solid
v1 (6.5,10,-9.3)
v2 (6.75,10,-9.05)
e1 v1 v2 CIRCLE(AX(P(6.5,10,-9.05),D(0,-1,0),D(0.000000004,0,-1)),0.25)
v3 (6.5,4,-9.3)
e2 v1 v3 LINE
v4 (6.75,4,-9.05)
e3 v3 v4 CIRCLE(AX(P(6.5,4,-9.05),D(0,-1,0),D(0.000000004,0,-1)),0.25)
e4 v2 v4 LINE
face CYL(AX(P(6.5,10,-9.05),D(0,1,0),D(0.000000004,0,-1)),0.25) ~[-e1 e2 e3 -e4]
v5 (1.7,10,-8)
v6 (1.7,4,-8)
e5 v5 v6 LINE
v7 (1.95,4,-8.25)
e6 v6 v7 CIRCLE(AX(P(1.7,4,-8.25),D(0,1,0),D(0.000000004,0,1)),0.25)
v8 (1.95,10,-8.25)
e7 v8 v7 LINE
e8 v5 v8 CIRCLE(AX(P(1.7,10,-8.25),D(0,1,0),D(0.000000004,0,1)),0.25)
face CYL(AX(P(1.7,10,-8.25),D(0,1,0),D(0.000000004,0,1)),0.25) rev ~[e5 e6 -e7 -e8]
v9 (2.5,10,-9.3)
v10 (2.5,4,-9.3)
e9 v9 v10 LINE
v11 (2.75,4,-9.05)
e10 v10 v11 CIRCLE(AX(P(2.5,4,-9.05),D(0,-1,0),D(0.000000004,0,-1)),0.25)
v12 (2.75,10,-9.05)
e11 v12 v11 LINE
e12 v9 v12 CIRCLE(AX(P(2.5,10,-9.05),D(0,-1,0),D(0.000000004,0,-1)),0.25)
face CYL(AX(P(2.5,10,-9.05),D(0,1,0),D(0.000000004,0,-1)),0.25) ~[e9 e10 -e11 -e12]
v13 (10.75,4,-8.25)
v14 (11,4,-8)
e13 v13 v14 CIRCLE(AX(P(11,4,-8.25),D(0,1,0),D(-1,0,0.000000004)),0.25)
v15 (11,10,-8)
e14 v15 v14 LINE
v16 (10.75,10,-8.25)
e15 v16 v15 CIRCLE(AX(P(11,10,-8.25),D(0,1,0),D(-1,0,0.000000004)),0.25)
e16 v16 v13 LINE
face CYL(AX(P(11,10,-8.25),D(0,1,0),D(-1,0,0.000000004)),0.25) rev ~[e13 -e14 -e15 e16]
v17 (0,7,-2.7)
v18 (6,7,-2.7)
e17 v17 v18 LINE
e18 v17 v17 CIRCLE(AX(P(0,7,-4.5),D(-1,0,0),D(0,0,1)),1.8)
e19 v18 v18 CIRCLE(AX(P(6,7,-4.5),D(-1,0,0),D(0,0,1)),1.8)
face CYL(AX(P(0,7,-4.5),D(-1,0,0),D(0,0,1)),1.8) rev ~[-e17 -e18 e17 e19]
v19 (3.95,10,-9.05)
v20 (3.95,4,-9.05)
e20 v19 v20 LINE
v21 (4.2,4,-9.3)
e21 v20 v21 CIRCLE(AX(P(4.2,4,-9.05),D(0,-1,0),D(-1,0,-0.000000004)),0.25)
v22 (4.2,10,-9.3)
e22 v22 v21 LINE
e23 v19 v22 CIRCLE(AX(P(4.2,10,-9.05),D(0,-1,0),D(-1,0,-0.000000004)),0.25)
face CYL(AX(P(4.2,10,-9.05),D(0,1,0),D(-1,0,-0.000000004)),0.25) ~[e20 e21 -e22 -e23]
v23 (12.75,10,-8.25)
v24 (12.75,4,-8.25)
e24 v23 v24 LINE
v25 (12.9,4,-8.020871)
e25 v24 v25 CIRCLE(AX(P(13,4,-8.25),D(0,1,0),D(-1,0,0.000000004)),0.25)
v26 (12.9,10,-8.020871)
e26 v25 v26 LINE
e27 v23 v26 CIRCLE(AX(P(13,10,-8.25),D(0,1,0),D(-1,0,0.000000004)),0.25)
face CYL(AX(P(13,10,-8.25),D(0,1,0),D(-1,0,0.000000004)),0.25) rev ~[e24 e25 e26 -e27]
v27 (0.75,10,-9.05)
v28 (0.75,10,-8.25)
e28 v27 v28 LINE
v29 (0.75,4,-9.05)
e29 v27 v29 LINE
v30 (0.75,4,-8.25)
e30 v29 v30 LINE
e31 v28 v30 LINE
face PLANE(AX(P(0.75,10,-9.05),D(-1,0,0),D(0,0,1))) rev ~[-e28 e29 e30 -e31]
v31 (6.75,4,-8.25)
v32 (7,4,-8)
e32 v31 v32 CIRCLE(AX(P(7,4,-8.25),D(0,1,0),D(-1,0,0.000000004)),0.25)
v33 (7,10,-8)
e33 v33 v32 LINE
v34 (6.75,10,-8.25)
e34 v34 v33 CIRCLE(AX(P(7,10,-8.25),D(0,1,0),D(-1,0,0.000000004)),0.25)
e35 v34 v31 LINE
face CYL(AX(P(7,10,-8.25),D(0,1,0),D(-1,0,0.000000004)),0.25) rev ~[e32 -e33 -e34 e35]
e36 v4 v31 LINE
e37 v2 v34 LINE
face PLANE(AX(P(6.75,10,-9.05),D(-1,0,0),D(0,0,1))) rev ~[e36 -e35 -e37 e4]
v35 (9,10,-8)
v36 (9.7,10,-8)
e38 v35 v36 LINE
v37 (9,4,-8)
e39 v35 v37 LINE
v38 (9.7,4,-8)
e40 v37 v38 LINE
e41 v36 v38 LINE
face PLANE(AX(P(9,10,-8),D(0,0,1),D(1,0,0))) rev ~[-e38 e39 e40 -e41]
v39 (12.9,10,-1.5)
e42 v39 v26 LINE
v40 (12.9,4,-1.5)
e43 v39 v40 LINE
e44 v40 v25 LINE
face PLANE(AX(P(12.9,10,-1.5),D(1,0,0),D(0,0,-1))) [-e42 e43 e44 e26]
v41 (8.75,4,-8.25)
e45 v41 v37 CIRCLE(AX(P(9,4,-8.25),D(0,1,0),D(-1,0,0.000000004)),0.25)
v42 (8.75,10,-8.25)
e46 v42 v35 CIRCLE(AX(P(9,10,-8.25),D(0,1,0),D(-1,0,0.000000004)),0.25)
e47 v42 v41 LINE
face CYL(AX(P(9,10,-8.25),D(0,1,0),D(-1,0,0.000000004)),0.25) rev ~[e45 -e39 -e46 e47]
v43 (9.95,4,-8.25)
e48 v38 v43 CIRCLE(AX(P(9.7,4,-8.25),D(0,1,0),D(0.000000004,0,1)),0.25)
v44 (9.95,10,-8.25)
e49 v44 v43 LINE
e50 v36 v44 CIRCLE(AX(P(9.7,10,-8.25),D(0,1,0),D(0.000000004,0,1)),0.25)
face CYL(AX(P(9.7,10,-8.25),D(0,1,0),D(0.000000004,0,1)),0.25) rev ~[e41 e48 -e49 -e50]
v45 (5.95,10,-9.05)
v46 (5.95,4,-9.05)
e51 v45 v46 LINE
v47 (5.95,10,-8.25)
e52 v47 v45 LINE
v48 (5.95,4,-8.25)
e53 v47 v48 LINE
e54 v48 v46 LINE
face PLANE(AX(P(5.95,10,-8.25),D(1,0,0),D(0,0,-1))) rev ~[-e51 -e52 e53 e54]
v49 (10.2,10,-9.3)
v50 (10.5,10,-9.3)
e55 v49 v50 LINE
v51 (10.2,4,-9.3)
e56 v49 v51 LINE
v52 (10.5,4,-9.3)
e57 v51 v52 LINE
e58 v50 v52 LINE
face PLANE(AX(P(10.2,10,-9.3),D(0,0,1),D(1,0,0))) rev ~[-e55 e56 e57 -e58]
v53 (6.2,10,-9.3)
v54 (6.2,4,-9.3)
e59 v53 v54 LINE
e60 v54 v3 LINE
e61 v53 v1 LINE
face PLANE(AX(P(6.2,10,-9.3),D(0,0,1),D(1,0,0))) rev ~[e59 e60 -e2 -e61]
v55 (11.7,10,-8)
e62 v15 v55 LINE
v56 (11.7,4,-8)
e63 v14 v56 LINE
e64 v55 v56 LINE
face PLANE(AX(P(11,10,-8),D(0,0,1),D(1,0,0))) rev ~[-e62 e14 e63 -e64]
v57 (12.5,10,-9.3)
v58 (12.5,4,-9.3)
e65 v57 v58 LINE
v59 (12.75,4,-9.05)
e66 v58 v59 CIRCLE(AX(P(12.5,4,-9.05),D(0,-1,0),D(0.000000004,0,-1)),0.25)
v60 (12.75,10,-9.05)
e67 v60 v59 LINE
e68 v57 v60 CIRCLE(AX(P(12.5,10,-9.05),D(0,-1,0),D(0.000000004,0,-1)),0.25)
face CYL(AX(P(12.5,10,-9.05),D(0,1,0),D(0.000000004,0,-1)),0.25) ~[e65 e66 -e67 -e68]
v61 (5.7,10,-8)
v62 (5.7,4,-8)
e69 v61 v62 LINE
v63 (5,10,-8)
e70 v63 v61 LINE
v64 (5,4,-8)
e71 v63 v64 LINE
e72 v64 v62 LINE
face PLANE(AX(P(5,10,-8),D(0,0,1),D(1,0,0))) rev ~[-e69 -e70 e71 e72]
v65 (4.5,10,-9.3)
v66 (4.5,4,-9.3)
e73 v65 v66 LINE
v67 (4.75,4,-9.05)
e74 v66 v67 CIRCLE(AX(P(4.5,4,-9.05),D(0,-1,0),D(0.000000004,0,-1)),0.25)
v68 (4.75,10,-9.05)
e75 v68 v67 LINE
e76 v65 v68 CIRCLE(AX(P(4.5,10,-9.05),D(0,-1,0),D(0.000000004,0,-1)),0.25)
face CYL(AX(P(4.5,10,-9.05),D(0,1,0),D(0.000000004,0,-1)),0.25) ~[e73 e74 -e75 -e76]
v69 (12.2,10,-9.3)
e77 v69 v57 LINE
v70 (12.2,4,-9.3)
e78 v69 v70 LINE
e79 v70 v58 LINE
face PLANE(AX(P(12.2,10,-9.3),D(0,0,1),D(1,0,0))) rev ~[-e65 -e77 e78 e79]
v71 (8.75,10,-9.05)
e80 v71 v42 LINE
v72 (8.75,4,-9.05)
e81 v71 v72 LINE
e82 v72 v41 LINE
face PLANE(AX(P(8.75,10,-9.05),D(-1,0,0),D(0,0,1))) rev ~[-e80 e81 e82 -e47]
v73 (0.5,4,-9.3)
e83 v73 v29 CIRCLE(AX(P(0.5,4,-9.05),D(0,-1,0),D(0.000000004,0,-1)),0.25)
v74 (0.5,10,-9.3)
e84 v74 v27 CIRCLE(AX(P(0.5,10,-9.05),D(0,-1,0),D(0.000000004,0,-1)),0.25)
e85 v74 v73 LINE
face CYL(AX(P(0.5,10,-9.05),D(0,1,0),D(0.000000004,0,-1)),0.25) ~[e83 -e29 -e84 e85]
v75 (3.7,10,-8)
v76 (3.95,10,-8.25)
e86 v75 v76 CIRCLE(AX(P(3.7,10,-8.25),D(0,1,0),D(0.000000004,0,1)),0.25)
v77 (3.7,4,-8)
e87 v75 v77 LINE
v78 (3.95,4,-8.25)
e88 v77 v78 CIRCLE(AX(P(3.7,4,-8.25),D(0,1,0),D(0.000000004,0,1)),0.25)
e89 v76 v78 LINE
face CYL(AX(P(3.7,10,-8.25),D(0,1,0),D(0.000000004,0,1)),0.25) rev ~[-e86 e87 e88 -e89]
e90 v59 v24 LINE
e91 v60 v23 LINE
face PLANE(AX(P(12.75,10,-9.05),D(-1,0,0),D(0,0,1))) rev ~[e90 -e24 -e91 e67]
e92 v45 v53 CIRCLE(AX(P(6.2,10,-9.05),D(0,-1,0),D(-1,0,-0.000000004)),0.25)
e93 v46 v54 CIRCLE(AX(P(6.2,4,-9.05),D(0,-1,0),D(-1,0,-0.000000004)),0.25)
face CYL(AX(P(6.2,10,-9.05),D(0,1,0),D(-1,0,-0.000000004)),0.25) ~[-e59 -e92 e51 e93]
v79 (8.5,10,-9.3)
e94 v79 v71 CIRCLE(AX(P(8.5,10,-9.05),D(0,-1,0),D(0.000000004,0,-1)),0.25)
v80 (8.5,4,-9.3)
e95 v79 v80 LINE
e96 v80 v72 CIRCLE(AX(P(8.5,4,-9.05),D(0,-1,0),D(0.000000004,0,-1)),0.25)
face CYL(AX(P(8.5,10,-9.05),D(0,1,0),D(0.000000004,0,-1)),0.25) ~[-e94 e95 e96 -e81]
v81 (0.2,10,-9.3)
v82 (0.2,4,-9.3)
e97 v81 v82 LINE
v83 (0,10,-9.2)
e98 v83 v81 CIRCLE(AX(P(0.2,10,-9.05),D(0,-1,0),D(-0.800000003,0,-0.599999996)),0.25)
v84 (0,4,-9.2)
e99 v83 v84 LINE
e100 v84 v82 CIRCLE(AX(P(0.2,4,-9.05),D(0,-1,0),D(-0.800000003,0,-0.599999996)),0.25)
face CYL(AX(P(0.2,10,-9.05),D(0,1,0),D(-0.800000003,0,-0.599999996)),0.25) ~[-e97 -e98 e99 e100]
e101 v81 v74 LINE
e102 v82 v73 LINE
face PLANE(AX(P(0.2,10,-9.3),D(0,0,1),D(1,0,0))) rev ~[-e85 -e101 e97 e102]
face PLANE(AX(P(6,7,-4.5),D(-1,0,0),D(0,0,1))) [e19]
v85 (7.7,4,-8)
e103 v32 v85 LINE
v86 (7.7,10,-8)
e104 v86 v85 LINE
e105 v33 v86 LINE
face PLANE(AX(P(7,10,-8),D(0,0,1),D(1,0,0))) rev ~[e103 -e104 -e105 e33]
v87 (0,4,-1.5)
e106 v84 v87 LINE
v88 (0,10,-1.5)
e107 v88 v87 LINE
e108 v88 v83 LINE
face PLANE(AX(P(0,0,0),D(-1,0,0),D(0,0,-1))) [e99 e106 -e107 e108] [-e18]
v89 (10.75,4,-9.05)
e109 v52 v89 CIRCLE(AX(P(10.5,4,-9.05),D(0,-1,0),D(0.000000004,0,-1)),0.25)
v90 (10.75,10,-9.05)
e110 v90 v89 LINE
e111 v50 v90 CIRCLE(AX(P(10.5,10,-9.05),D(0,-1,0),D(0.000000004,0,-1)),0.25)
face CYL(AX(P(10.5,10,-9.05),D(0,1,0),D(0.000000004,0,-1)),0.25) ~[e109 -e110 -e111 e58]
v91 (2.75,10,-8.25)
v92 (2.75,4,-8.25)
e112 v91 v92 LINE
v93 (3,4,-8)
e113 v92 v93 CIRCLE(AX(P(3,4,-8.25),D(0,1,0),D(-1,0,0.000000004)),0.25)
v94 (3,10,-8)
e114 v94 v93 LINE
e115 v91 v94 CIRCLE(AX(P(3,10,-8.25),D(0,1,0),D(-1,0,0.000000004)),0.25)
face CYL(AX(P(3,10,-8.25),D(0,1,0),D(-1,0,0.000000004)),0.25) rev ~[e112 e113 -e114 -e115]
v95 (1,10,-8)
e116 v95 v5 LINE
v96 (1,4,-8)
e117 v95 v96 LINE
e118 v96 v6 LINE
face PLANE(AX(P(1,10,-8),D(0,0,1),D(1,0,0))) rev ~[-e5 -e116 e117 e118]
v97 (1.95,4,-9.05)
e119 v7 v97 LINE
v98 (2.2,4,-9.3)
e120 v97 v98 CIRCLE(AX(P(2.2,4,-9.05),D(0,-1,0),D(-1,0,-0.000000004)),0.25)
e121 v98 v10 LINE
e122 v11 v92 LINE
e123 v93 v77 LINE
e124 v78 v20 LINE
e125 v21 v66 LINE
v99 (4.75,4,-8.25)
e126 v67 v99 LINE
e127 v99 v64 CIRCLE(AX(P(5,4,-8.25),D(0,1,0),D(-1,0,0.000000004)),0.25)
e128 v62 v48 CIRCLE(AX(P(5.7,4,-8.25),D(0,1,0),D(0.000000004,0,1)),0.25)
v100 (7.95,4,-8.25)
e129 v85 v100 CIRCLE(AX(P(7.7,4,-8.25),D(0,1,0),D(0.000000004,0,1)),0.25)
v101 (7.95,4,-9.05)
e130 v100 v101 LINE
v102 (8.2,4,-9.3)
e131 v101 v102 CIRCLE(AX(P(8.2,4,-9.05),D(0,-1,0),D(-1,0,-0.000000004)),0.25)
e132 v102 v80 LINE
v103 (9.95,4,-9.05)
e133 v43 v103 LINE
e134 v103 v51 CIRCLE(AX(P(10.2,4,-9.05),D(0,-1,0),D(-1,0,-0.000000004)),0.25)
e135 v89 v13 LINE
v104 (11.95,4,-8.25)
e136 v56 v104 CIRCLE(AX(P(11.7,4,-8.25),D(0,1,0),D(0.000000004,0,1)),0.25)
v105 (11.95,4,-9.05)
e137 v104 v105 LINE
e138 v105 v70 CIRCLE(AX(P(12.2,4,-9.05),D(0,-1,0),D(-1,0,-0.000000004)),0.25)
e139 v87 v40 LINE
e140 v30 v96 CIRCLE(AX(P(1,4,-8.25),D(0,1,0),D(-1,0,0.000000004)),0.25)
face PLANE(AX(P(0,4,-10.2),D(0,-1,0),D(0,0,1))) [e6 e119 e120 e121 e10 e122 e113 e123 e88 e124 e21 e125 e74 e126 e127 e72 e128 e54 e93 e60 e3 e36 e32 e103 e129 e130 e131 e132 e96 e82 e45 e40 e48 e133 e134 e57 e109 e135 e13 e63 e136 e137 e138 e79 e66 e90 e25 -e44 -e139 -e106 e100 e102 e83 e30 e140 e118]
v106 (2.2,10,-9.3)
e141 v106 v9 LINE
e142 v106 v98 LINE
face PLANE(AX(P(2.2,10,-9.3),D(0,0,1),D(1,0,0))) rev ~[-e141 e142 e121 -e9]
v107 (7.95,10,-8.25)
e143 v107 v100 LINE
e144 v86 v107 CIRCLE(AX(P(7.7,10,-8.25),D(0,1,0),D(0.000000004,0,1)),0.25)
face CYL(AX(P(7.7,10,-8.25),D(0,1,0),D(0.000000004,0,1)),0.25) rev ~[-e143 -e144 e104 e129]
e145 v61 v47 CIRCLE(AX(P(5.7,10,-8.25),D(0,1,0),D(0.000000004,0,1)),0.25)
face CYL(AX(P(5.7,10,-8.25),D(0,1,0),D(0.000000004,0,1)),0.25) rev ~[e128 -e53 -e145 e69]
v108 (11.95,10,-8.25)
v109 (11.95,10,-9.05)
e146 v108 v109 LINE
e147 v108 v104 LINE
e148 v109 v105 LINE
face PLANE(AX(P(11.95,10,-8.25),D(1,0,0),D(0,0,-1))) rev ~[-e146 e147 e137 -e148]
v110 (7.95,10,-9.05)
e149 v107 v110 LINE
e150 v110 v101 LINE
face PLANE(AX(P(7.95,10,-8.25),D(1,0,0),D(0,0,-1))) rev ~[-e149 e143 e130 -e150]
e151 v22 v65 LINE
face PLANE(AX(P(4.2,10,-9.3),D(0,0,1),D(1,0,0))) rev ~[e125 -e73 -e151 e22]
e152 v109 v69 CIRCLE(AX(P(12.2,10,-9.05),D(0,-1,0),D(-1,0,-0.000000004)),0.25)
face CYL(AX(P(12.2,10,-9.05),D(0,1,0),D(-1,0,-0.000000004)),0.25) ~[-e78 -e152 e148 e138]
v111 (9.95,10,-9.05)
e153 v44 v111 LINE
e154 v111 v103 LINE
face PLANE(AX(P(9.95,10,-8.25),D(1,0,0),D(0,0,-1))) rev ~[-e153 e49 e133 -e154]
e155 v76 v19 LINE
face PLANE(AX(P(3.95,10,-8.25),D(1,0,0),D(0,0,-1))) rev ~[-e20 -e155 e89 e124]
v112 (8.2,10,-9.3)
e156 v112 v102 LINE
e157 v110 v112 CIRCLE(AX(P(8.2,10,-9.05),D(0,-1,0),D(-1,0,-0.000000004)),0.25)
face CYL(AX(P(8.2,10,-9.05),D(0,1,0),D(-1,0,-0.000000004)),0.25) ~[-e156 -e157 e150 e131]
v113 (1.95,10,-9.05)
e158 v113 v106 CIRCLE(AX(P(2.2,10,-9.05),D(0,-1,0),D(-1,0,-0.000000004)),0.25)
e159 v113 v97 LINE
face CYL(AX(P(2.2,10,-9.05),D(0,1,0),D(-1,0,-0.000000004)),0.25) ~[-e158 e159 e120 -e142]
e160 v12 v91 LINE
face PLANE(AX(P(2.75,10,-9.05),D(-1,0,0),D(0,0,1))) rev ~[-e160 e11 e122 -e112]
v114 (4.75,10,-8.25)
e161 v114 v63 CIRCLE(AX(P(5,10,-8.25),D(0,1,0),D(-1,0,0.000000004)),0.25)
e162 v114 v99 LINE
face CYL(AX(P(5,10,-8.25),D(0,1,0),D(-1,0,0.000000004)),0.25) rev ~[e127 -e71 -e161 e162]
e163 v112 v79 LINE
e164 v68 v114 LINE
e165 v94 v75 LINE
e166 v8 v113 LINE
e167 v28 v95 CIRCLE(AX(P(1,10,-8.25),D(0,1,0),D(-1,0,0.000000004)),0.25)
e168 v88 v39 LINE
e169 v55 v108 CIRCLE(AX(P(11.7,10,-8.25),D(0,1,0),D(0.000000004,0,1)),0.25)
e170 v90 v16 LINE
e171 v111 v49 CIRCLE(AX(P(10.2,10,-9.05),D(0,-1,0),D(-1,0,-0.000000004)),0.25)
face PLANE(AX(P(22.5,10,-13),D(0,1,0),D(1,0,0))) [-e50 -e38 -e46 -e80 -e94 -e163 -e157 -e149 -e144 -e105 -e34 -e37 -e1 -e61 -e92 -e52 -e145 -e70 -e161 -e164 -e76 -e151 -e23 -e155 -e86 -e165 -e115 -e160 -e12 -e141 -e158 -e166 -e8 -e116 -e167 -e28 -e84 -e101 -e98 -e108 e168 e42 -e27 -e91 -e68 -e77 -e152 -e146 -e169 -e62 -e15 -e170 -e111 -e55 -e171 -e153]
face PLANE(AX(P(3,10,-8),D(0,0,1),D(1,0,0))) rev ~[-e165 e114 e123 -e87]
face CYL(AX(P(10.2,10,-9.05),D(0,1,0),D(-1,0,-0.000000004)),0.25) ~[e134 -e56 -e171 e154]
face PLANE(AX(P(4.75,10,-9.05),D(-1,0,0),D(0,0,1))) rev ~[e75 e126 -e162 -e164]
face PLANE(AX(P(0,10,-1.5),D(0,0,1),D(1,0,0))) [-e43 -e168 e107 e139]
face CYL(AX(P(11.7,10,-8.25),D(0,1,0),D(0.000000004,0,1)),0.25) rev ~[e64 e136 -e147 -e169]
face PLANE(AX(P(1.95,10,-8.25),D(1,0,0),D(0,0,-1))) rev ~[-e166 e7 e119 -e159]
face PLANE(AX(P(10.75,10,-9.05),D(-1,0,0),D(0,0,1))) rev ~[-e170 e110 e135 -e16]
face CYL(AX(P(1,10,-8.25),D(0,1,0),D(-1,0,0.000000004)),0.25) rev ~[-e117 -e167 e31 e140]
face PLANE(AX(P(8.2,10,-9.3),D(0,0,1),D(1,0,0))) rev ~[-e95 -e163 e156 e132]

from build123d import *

# Parameters (mm, degrees)
SKETCH_1_W           = 45
SKETCH_1_H           = 26
EXTRUDE_1_DEPTH      = 10
CUT_EXTRUDE_1_DEPTH  = 6
SKETCH_4_W           = 30
SKETCH_4_H           = 1.4
CUT_EXTRUDE_3_DEPTH  = 6
SKETCH_5_R           = 1.8
CUT_EXTRUDE_4_DEPTH  = 30
SKETCH_6_W           = 2.8
SKETCH_6_H           = 6
CUT_EXTRUDE_5_DEPTH  = 6.5
SKETCH_7_W           = 22.3
SKETCH_7_H           = 8.113029467
CUT_EXTRUDE_7_DEPTH  = 6
SKETCH_8_R           = 1.9
CUT_EXTRUDE_8_DEPTH  = 15.9
SKETCH_10_W          = 6
SKETCH_10_H          = 3
CUT_EXTRUDE_9_DEPTH  = 8.5
SKETCH_12_W          = 10.2
SKETCH_12_H          = 4
CUT_EXTRUDE_11_DEPTH = 45
SKETCH_13_W          = 12.9
SKETCH_13_H          = 1.5
CUT_EXTRUDE_12_DEPTH = 6
SKETCH_14_R          = 1.8
CUT_EXTRUDE_13_DEPTH = 6


with BuildPart() as part:
    # 草图1 → 凸台-拉伸1 (new body)
    with BuildSketch(Plane(origin=(0, 0, 0), x_dir=(1, 0, 0), z_dir=(0, 1, 0))):
        with Locations((22.5, 13)):
            Rectangle(SKETCH_1_W, SKETCH_1_H)
    extrude(amount=EXTRUDE_1_DEPTH)

    # 草图3 → 切除-拉伸1 (cut)
    with BuildSketch(Plane(origin=(0, 10, 0), x_dir=(1, 0, 0), z_dir=(0, 1, 0))):
        with BuildLine():
            Line((43, 8), (43.7, 8))
            ThreePointArc((43.7, 8), (43.876776695, 8.073223305), (43.95, 8.25))
            Line((43.95, 8.25), (43.95, 9.05))
            ThreePointArc((43.95, 9.05), (44.023223305, 9.226776695), (44.2, 9.3))
            Line((44.2, 9.3), (44.5, 9.3))
            ThreePointArc((44.5, 9.3), (44.676776695, 9.226776695), (44.75, 9.05))
            Line((44.75, 9.05), (44.75, 8.25))
            ThreePointArc((44.75, 8.25), (44.823223305, 8.073223305), (45, 8))
            Line((45, 8), (45, 10.2))
            Line((45, 10.2), (0, 10.2))
            Line((0, 10.2), (0, 9.2))
            ThreePointArc((0, 9.2), (0.088196601, 9.273606798), (0.2, 9.3))
            Line((0.2, 9.3), (0.5, 9.3))
            ThreePointArc((0.5, 9.3), (0.676776695, 9.226776695), (0.75, 9.05))
            Line((0.75, 9.05), (0.75, 8.25))
            ThreePointArc((0.75, 8.25), (0.823223305, 8.073223305), (1, 8))
            Line((1, 8), (1.7, 8))
            ThreePointArc((1.7, 8), (1.876776695, 8.073223305), (1.95, 8.25))
            Line((1.95, 8.25), (1.95, 9.05))
            ThreePointArc((1.95, 9.05), (2.023223305, 9.226776695), (2.2, 9.3))
            Line((2.2, 9.3), (2.5, 9.3))
            ThreePointArc((2.5, 9.3), (2.676776695, 9.226776695), (2.75, 9.05))
            Line((2.75, 9.05), (2.75, 8.25))
            ThreePointArc((2.75, 8.25), (2.823223305, 8.073223305), (3, 8))
            Line((3, 8), (3.7, 8))
            ThreePointArc((3.7, 8), (3.876776695, 8.073223305), (3.95, 8.25))
            Line((3.95, 8.25), (3.95, 9.05))
            ThreePointArc((3.95, 9.05), (4.023223305, 9.226776695), (4.2, 9.3))
            Line((4.2, 9.3), (4.5, 9.3))
            ThreePointArc((4.5, 9.3), (4.676776695, 9.226776695), (4.75, 9.05))
            Line((4.75, 9.05), (4.75, 8.25))
            ThreePointArc((4.75, 8.25), (4.823223305, 8.073223305), (5, 8))
            Line((5, 8), (5.7, 8))
            ThreePointArc((5.7, 8), (5.876776695, 8.073223305), (5.95, 8.25))
            Line((5.95, 8.25), (5.95, 9.05))
            ThreePointArc((5.95, 9.05), (6.023223305, 9.226776695), (6.2, 9.3))
            Line((6.2, 9.3), (6.5, 9.3))
            ThreePointArc((6.5, 9.3), (6.676776695, 9.226776695), (6.75, 9.05))
            Line((6.75, 9.05), (6.75, 8.25))
            ThreePointArc((6.75, 8.25), (6.823223305, 8.073223305), (7, 8))
            Line((7, 8), (7.7, 8))
            ThreePointArc((7.7, 8), (7.876776695, 8.073223305), (7.95, 8.25))
            Line((7.95, 8.25), (7.95, 9.05))
            ThreePointArc((7.95, 9.05), (8.023223305, 9.226776695), (8.2, 9.3))
            Line((8.2, 9.3), (8.5, 9.3))
            ThreePointArc((8.5, 9.3), (8.676776695, 9.226776695), (8.75, 9.05))
            Line((8.75, 9.05), (8.75, 8.25))
            ThreePointArc((8.75, 8.25), (8.823223305, 8.073223305), (9, 8))
            Line((9, 8), (9.7, 8))
            ThreePointArc((9.7, 8), (9.876776695, 8.073223305), (9.95, 8.25))
            Line((9.95, 8.25), (9.95, 9.05))
            ThreePointArc((9.95, 9.05), (10.023223305, 9.226776695), (10.2, 9.3))
            Line((10.2, 9.3), (10.5, 9.3))
            ThreePointArc((10.5, 9.3), (10.676776695, 9.226776695), (10.75, 9.05))
            Line((10.75, 9.05), (10.75, 8.25))
            ThreePointArc((10.75, 8.25), (10.823223305, 8.073223305), (11, 8))
            Line((11, 8), (11.7, 8))
            ThreePointArc((11.7, 8), (11.876776695, 8.073223305), (11.95, 8.25))
            Line((11.95, 8.25), (11.95, 9.05))
            ThreePointArc((11.95, 9.05), (12.023223305, 9.226776695), (12.2, 9.3))
            Line((12.2, 9.3), (12.5, 9.3))
            ThreePointArc((12.5, 9.3), (12.676776695, 9.226776695), (12.75, 9.05))
            Line((12.75, 9.05), (12.75, 8.25))
            ThreePointArc((12.75, 8.25), (12.823223305, 8.073223305), (13, 8))
            Line((13, 8), (13.7, 8))
            ThreePointArc((13.7, 8), (13.876776695, 8.073223305), (13.95, 8.25))
            Line((13.95, 8.25), (13.95, 9.05))
            ThreePointArc((13.95, 9.05), (14.023223305, 9.226776695), (14.2, 9.3))
            Line((14.2, 9.3), (14.5, 9.3))
            ThreePointArc((14.5, 9.3), (14.676776695, 9.226776695), (14.75, 9.05))
            Line((14.75, 9.05), (14.75, 8.25))
            ThreePointArc((14.75, 8.25), (14.823223305, 8.073223305), (15, 8))
            Line((15, 8), (15.7, 8))
            ThreePointArc((15.7, 8), (15.876776695, 8.073223305), (15.95, 8.25))
            Line((15.95, 8.25), (15.95, 9.05))
            ThreePointArc((15.95, 9.05), (16.023223305, 9.226776695), (16.2, 9.3))
            Line((16.2, 9.3), (16.5, 9.3))
            ThreePointArc((16.5, 9.3), (16.676776695, 9.226776695), (16.75, 9.05))
            Line((16.75, 9.05), (16.75, 8.25))
            ThreePointArc((16.75, 8.25), (16.823223305, 8.073223305), (17, 8))
            Line((17, 8), (17.7, 8))
            ThreePointArc((17.7, 8), (17.876776695, 8.073223305), (17.95, 8.25))
            Line((17.95, 8.25), (17.95, 9.05))
            ThreePointArc((17.95, 9.05), (18.023223305, 9.226776695), (18.2, 9.3))
            Line((18.2, 9.3), (18.5, 9.3))
            ThreePointArc((18.5, 9.3), (18.676776695, 9.226776695), (18.75, 9.05))
            Line((18.75, 9.05), (18.75, 8.25))
            ThreePointArc((18.75, 8.25), (18.823223305, 8.073223305), (19, 8))
            Line((19, 8), (19.7, 8))
            ThreePointArc((19.7, 8), (19.876776695, 8.073223305), (19.95, 8.25))
            Line((19.95, 8.25), (19.95, 9.05))
            ThreePointArc((19.95, 9.05), (20.023223305, 9.226776695), (20.2, 9.3))
            Line((20.2, 9.3), (20.5, 9.3))
            ThreePointArc((20.5, 9.3), (20.676776695, 9.226776695), (20.75, 9.05))
            Line((20.75, 9.05), (20.75, 8.25))
            ThreePointArc((20.75, 8.25), (20.823223305, 8.073223305), (21, 8))
            Line((21, 8), (21.7, 8))
            ThreePointArc((21.7, 8), (21.876776695, 8.073223305), (21.95, 8.25))
            Line((21.95, 8.25), (21.95, 9.05))
            ThreePointArc((21.95, 9.05), (22.023223305, 9.226776695), (22.2, 9.3))
            Line((22.2, 9.3), (22.5, 9.3))
            ThreePointArc((22.5, 9.3), (22.676776695, 9.226776695), (22.75, 9.05))
            Line((22.75, 9.05), (22.75, 8.25))
            ThreePointArc((22.75, 8.25), (22.823223305, 8.073223305), (23, 8))
            Line((23, 8), (23.7, 8))
            ThreePointArc((23.7, 8), (23.876776695, 8.073223305), (23.95, 8.25))
            Line((23.95, 8.25), (23.95, 9.05))
            ThreePointArc((23.95, 9.05), (24.023223305, 9.226776695), (24.2, 9.3))
            Line((24.2, 9.3), (24.5, 9.3))
            ThreePointArc((24.5, 9.3), (24.676776695, 9.226776695), (24.75, 9.05))
            Line((24.75, 9.05), (24.75, 8.25))
            ThreePointArc((24.75, 8.25), (24.823223305, 8.073223305), (25, 8))
            Line((25, 8), (25.7, 8))
            ThreePointArc((25.7, 8), (25.876776695, 8.073223305), (25.95, 8.25))
            Line((25.95, 8.25), (25.95, 9.05))
            ThreePointArc((25.95, 9.05), (26.023223305, 9.226776695), (26.2, 9.3))
            Line((26.2, 9.3), (26.5, 9.3))
            ThreePointArc((26.5, 9.3), (26.676776695, 9.226776695), (26.75, 9.05))
            Line((26.75, 9.05), (26.75, 8.25))
            ThreePointArc((26.75, 8.25), (26.823223305, 8.073223305), (27, 8))
            Line((27, 8), (27.7, 8))
            ThreePointArc((27.7, 8), (27.876776695, 8.073223305), (27.95, 8.25))
            Line((27.95, 8.25), (27.95, 9.05))
            ThreePointArc((27.95, 9.05), (28.023223305, 9.226776695), (28.2, 9.3))
            Line((28.2, 9.3), (28.5, 9.3))
            ThreePointArc((28.5, 9.3), (28.676776695, 9.226776695), (28.75, 9.05))
            Line((28.75, 9.05), (28.75, 8.25))
            ThreePointArc((28.75, 8.25), (28.823223305, 8.073223305), (29, 8))
            Line((29, 8), (29.7, 8))
            ThreePointArc((29.7, 8), (29.876776695, 8.073223305), (29.95, 8.25))
            Line((29.95, 8.25), (29.95, 9.05))
            ThreePointArc((29.95, 9.05), (30.023223305, 9.226776695), (30.2, 9.3))
            Line((30.2, 9.3), (30.5, 9.3))
            ThreePointArc((30.5, 9.3), (30.676776695, 9.226776695), (30.75, 9.05))
            Line((30.75, 9.05), (30.75, 8.25))
            ThreePointArc((30.75, 8.25), (30.823223305, 8.073223305), (31, 8))
            Line((31, 8), (31.7, 8))
            ThreePointArc((31.7, 8), (31.876776695, 8.073223305), (31.95, 8.25))
            Line((31.95, 8.25), (31.95, 9.05))
            ThreePointArc((31.95, 9.05), (32.023223305, 9.226776695), (32.2, 9.3))
            Line((32.2, 9.3), (32.5, 9.3))
            ThreePointArc((32.5, 9.3), (32.676776695, 9.226776695), (32.75, 9.05))
            Line((32.75, 9.05), (32.75, 8.25))
            ThreePointArc((32.75, 8.25), (32.823223305, 8.073223305), (33, 8))
            Line((33, 8), (33.7, 8))
            ThreePointArc((33.7, 8), (33.876776695, 8.073223305), (33.95, 8.25))
            Line((33.95, 8.25), (33.95, 9.05))
            ThreePointArc((33.95, 9.05), (34.023223305, 9.226776695), (34.2, 9.3))
            Line((34.2, 9.3), (34.5, 9.3))
            ThreePointArc((34.5, 9.3), (34.676776695, 9.226776695), (34.75, 9.05))
            Line((34.75, 9.05), (34.75, 8.25))
            ThreePointArc((34.75, 8.25), (34.823223305, 8.073223305), (35, 8))
            Line((35, 8), (35.7, 8))
            ThreePointArc((35.7, 8), (35.876776695, 8.073223305), (35.95, 8.25))
            Line((35.95, 8.25), (35.95, 9.05))
            ThreePointArc((35.95, 9.05), (36.023223305, 9.226776695), (36.2, 9.3))
            Line((36.2, 9.3), (36.5, 9.3))
            ThreePointArc((36.5, 9.3), (36.676776695, 9.226776695), (36.75, 9.05))
            Line((36.75, 9.05), (36.75, 8.25))
            ThreePointArc((36.75, 8.25), (36.823223305, 8.073223305), (37, 8))
            Line((37, 8), (37.7, 8))
            ThreePointArc((37.7, 8), (37.876776695, 8.073223305), (37.95, 8.25))
            Line((37.95, 8.25), (37.95, 9.05))
            ThreePointArc((37.95, 9.05), (38.023223305, 9.226776695), (38.2, 9.3))
            Line((38.2, 9.3), (38.5, 9.3))
            ThreePointArc((38.5, 9.3), (38.676776695, 9.226776695), (38.75, 9.05))
            Line((38.75, 9.05), (38.75, 8.25))
            ThreePointArc((38.75, 8.25), (38.823223305, 8.073223305), (39, 8))
            Line((39, 8), (39.7, 8))
            ThreePointArc((39.7, 8), (39.876776695, 8.073223305), (39.95, 8.25))
            Line((39.95, 8.25), (39.95, 9.05))
            ThreePointArc((39.95, 9.05), (40.023223305, 9.226776695), (40.2, 9.3))
            Line((40.2, 9.3), (40.5, 9.3))
            ThreePointArc((40.5, 9.3), (40.676776695, 9.226776695), (40.75, 9.05))
            Line((40.75, 9.05), (40.75, 8.25))
            ThreePointArc((40.75, 8.25), (40.823223305, 8.073223305), (41, 8))
            Line((41, 8), (41.7, 8))
            ThreePointArc((41.7, 8), (41.876776695, 8.073223305), (41.95, 8.25))
            Line((41.95, 8.25), (41.95, 9.05))
            ThreePointArc((41.95, 9.05), (42.023223305, 9.226776695), (42.2, 9.3))
            Line((42.2, 9.3), (42.5, 9.3))
            ThreePointArc((42.5, 9.3), (42.676776695, 9.226776695), (42.75, 9.05))
            Line((42.75, 9.05), (42.75, 8.25))
            ThreePointArc((42.75, 8.25), (42.823223305, 8.073223305), (43, 8))
        make_face()
    extrude(amount=-CUT_EXTRUDE_1_DEPTH, mode=Mode.SUBTRACT)

    # 草图4 → 切除-拉伸3 (cut)
    with BuildSketch(Plane(origin=(0, 10, 0), x_dir=(1, 0, 0), z_dir=(0, 1, 0))):
        with Locations((30, 8.7)):
            Rectangle(SKETCH_4_W, SKETCH_4_H)
    extrude(amount=-CUT_EXTRUDE_3_DEPTH, mode=Mode.SUBTRACT)

    # 草图5 → 切除-拉伸4 (cut)
    with BuildSketch(Plane(origin=(45, 0, 0), x_dir=(0, 0, -1), z_dir=(1, 0, 0))):
        with Locations((4.5, 7)):
            Circle(SKETCH_5_R)
    extrude(amount=-CUT_EXTRUDE_4_DEPTH, mode=Mode.SUBTRACT)

    # 草图6 → 切除-拉伸5 (cut)
    with BuildSketch(Plane(origin=(0, 10, 0), x_dir=(1, 0, 0), z_dir=(0, 1, 0))):
        with Locations((38.6, 4.5)):
            Rectangle(SKETCH_6_W, SKETCH_6_H)
    extrude(amount=-CUT_EXTRUDE_5_DEPTH, mode=Mode.SUBTRACT)

    # 草图7 → 切除-拉伸7 (cut)
    with BuildSketch(Plane(origin=(0, 10, 0), x_dir=(1, 0, 0), z_dir=(0, 1, 0))):
        with Locations((24.05, 5.556514734)):
            Rectangle(SKETCH_7_W, SKETCH_7_H)
    extrude(amount=-CUT_EXTRUDE_7_DEPTH, mode=Mode.SUBTRACT)

    # 草图8 → 切除-拉伸8 (cut)
    with BuildSketch(Plane(origin=(0, 0, -26), x_dir=(-1, 0, 0), z_dir=(0, 0, -1))):
        with Locations((-10, 5)):
            Circle(SKETCH_8_R)
        with Locations(Location((-35, 5, 0), (0, 0, 328.243136141))):
            Circle(SKETCH_8_R)
    extrude(amount=-CUT_EXTRUDE_8_DEPTH, mode=Mode.SUBTRACT)

    # 草图10 → 切除-拉伸9 (cut)
    with BuildSketch(Plane(origin=(0, 10, 0), x_dir=(1, 0, 0), z_dir=(0, 1, 0))):
        with Locations((10, 21.5)):
            Rectangle(SKETCH_10_W, SKETCH_10_H)
        with Locations((35, 21.5)):
            Rectangle(SKETCH_10_W, SKETCH_10_H)
    extrude(amount=-CUT_EXTRUDE_9_DEPTH, mode=Mode.SUBTRACT)

    # 草图12 → 切除-拉伸11 (cut)
    with BuildSketch(Plane.ZY):
        with Locations((-5.1, 2)):
            Rectangle(SKETCH_12_W, SKETCH_12_H)
    extrude(amount=-CUT_EXTRUDE_11_DEPTH, mode=Mode.SUBTRACT)


with BuildPart() as body_2:
    # of the pieces the cut leaves, the one that is kept (cut_extrude_11_keep)
    add(part.part.solids().sort_by_distance((0, 4, 0))[0])

    # 草图13 → 切除-拉伸12 (cut)
    with BuildSketch(Plane(origin=(0, 10, 0), x_dir=(1, 0, 0), z_dir=(0, 1, 0))):
        with Locations((6.45, 0.75)):
            Rectangle(SKETCH_13_W, SKETCH_13_H)
    extrude(amount=-CUT_EXTRUDE_12_DEPTH, mode=Mode.SUBTRACT)


with BuildPart() as body_2_2:
    # of the pieces the cut leaves, the one that is kept (cut_extrude_12_keep)
    add(body_2.part.solids().sort_by_distance((0, 4, -9.2))[0])

    # 草图14 → 切除-拉伸13 (cut)
    with BuildSketch(Plane.ZY):
        with Locations((-4.5, 7)):
            Circle(SKETCH_14_R)
    extrude(amount=-CUT_EXTRUDE_13_DEPTH, mode=Mode.SUBTRACT)


solid = body_2_2.part
